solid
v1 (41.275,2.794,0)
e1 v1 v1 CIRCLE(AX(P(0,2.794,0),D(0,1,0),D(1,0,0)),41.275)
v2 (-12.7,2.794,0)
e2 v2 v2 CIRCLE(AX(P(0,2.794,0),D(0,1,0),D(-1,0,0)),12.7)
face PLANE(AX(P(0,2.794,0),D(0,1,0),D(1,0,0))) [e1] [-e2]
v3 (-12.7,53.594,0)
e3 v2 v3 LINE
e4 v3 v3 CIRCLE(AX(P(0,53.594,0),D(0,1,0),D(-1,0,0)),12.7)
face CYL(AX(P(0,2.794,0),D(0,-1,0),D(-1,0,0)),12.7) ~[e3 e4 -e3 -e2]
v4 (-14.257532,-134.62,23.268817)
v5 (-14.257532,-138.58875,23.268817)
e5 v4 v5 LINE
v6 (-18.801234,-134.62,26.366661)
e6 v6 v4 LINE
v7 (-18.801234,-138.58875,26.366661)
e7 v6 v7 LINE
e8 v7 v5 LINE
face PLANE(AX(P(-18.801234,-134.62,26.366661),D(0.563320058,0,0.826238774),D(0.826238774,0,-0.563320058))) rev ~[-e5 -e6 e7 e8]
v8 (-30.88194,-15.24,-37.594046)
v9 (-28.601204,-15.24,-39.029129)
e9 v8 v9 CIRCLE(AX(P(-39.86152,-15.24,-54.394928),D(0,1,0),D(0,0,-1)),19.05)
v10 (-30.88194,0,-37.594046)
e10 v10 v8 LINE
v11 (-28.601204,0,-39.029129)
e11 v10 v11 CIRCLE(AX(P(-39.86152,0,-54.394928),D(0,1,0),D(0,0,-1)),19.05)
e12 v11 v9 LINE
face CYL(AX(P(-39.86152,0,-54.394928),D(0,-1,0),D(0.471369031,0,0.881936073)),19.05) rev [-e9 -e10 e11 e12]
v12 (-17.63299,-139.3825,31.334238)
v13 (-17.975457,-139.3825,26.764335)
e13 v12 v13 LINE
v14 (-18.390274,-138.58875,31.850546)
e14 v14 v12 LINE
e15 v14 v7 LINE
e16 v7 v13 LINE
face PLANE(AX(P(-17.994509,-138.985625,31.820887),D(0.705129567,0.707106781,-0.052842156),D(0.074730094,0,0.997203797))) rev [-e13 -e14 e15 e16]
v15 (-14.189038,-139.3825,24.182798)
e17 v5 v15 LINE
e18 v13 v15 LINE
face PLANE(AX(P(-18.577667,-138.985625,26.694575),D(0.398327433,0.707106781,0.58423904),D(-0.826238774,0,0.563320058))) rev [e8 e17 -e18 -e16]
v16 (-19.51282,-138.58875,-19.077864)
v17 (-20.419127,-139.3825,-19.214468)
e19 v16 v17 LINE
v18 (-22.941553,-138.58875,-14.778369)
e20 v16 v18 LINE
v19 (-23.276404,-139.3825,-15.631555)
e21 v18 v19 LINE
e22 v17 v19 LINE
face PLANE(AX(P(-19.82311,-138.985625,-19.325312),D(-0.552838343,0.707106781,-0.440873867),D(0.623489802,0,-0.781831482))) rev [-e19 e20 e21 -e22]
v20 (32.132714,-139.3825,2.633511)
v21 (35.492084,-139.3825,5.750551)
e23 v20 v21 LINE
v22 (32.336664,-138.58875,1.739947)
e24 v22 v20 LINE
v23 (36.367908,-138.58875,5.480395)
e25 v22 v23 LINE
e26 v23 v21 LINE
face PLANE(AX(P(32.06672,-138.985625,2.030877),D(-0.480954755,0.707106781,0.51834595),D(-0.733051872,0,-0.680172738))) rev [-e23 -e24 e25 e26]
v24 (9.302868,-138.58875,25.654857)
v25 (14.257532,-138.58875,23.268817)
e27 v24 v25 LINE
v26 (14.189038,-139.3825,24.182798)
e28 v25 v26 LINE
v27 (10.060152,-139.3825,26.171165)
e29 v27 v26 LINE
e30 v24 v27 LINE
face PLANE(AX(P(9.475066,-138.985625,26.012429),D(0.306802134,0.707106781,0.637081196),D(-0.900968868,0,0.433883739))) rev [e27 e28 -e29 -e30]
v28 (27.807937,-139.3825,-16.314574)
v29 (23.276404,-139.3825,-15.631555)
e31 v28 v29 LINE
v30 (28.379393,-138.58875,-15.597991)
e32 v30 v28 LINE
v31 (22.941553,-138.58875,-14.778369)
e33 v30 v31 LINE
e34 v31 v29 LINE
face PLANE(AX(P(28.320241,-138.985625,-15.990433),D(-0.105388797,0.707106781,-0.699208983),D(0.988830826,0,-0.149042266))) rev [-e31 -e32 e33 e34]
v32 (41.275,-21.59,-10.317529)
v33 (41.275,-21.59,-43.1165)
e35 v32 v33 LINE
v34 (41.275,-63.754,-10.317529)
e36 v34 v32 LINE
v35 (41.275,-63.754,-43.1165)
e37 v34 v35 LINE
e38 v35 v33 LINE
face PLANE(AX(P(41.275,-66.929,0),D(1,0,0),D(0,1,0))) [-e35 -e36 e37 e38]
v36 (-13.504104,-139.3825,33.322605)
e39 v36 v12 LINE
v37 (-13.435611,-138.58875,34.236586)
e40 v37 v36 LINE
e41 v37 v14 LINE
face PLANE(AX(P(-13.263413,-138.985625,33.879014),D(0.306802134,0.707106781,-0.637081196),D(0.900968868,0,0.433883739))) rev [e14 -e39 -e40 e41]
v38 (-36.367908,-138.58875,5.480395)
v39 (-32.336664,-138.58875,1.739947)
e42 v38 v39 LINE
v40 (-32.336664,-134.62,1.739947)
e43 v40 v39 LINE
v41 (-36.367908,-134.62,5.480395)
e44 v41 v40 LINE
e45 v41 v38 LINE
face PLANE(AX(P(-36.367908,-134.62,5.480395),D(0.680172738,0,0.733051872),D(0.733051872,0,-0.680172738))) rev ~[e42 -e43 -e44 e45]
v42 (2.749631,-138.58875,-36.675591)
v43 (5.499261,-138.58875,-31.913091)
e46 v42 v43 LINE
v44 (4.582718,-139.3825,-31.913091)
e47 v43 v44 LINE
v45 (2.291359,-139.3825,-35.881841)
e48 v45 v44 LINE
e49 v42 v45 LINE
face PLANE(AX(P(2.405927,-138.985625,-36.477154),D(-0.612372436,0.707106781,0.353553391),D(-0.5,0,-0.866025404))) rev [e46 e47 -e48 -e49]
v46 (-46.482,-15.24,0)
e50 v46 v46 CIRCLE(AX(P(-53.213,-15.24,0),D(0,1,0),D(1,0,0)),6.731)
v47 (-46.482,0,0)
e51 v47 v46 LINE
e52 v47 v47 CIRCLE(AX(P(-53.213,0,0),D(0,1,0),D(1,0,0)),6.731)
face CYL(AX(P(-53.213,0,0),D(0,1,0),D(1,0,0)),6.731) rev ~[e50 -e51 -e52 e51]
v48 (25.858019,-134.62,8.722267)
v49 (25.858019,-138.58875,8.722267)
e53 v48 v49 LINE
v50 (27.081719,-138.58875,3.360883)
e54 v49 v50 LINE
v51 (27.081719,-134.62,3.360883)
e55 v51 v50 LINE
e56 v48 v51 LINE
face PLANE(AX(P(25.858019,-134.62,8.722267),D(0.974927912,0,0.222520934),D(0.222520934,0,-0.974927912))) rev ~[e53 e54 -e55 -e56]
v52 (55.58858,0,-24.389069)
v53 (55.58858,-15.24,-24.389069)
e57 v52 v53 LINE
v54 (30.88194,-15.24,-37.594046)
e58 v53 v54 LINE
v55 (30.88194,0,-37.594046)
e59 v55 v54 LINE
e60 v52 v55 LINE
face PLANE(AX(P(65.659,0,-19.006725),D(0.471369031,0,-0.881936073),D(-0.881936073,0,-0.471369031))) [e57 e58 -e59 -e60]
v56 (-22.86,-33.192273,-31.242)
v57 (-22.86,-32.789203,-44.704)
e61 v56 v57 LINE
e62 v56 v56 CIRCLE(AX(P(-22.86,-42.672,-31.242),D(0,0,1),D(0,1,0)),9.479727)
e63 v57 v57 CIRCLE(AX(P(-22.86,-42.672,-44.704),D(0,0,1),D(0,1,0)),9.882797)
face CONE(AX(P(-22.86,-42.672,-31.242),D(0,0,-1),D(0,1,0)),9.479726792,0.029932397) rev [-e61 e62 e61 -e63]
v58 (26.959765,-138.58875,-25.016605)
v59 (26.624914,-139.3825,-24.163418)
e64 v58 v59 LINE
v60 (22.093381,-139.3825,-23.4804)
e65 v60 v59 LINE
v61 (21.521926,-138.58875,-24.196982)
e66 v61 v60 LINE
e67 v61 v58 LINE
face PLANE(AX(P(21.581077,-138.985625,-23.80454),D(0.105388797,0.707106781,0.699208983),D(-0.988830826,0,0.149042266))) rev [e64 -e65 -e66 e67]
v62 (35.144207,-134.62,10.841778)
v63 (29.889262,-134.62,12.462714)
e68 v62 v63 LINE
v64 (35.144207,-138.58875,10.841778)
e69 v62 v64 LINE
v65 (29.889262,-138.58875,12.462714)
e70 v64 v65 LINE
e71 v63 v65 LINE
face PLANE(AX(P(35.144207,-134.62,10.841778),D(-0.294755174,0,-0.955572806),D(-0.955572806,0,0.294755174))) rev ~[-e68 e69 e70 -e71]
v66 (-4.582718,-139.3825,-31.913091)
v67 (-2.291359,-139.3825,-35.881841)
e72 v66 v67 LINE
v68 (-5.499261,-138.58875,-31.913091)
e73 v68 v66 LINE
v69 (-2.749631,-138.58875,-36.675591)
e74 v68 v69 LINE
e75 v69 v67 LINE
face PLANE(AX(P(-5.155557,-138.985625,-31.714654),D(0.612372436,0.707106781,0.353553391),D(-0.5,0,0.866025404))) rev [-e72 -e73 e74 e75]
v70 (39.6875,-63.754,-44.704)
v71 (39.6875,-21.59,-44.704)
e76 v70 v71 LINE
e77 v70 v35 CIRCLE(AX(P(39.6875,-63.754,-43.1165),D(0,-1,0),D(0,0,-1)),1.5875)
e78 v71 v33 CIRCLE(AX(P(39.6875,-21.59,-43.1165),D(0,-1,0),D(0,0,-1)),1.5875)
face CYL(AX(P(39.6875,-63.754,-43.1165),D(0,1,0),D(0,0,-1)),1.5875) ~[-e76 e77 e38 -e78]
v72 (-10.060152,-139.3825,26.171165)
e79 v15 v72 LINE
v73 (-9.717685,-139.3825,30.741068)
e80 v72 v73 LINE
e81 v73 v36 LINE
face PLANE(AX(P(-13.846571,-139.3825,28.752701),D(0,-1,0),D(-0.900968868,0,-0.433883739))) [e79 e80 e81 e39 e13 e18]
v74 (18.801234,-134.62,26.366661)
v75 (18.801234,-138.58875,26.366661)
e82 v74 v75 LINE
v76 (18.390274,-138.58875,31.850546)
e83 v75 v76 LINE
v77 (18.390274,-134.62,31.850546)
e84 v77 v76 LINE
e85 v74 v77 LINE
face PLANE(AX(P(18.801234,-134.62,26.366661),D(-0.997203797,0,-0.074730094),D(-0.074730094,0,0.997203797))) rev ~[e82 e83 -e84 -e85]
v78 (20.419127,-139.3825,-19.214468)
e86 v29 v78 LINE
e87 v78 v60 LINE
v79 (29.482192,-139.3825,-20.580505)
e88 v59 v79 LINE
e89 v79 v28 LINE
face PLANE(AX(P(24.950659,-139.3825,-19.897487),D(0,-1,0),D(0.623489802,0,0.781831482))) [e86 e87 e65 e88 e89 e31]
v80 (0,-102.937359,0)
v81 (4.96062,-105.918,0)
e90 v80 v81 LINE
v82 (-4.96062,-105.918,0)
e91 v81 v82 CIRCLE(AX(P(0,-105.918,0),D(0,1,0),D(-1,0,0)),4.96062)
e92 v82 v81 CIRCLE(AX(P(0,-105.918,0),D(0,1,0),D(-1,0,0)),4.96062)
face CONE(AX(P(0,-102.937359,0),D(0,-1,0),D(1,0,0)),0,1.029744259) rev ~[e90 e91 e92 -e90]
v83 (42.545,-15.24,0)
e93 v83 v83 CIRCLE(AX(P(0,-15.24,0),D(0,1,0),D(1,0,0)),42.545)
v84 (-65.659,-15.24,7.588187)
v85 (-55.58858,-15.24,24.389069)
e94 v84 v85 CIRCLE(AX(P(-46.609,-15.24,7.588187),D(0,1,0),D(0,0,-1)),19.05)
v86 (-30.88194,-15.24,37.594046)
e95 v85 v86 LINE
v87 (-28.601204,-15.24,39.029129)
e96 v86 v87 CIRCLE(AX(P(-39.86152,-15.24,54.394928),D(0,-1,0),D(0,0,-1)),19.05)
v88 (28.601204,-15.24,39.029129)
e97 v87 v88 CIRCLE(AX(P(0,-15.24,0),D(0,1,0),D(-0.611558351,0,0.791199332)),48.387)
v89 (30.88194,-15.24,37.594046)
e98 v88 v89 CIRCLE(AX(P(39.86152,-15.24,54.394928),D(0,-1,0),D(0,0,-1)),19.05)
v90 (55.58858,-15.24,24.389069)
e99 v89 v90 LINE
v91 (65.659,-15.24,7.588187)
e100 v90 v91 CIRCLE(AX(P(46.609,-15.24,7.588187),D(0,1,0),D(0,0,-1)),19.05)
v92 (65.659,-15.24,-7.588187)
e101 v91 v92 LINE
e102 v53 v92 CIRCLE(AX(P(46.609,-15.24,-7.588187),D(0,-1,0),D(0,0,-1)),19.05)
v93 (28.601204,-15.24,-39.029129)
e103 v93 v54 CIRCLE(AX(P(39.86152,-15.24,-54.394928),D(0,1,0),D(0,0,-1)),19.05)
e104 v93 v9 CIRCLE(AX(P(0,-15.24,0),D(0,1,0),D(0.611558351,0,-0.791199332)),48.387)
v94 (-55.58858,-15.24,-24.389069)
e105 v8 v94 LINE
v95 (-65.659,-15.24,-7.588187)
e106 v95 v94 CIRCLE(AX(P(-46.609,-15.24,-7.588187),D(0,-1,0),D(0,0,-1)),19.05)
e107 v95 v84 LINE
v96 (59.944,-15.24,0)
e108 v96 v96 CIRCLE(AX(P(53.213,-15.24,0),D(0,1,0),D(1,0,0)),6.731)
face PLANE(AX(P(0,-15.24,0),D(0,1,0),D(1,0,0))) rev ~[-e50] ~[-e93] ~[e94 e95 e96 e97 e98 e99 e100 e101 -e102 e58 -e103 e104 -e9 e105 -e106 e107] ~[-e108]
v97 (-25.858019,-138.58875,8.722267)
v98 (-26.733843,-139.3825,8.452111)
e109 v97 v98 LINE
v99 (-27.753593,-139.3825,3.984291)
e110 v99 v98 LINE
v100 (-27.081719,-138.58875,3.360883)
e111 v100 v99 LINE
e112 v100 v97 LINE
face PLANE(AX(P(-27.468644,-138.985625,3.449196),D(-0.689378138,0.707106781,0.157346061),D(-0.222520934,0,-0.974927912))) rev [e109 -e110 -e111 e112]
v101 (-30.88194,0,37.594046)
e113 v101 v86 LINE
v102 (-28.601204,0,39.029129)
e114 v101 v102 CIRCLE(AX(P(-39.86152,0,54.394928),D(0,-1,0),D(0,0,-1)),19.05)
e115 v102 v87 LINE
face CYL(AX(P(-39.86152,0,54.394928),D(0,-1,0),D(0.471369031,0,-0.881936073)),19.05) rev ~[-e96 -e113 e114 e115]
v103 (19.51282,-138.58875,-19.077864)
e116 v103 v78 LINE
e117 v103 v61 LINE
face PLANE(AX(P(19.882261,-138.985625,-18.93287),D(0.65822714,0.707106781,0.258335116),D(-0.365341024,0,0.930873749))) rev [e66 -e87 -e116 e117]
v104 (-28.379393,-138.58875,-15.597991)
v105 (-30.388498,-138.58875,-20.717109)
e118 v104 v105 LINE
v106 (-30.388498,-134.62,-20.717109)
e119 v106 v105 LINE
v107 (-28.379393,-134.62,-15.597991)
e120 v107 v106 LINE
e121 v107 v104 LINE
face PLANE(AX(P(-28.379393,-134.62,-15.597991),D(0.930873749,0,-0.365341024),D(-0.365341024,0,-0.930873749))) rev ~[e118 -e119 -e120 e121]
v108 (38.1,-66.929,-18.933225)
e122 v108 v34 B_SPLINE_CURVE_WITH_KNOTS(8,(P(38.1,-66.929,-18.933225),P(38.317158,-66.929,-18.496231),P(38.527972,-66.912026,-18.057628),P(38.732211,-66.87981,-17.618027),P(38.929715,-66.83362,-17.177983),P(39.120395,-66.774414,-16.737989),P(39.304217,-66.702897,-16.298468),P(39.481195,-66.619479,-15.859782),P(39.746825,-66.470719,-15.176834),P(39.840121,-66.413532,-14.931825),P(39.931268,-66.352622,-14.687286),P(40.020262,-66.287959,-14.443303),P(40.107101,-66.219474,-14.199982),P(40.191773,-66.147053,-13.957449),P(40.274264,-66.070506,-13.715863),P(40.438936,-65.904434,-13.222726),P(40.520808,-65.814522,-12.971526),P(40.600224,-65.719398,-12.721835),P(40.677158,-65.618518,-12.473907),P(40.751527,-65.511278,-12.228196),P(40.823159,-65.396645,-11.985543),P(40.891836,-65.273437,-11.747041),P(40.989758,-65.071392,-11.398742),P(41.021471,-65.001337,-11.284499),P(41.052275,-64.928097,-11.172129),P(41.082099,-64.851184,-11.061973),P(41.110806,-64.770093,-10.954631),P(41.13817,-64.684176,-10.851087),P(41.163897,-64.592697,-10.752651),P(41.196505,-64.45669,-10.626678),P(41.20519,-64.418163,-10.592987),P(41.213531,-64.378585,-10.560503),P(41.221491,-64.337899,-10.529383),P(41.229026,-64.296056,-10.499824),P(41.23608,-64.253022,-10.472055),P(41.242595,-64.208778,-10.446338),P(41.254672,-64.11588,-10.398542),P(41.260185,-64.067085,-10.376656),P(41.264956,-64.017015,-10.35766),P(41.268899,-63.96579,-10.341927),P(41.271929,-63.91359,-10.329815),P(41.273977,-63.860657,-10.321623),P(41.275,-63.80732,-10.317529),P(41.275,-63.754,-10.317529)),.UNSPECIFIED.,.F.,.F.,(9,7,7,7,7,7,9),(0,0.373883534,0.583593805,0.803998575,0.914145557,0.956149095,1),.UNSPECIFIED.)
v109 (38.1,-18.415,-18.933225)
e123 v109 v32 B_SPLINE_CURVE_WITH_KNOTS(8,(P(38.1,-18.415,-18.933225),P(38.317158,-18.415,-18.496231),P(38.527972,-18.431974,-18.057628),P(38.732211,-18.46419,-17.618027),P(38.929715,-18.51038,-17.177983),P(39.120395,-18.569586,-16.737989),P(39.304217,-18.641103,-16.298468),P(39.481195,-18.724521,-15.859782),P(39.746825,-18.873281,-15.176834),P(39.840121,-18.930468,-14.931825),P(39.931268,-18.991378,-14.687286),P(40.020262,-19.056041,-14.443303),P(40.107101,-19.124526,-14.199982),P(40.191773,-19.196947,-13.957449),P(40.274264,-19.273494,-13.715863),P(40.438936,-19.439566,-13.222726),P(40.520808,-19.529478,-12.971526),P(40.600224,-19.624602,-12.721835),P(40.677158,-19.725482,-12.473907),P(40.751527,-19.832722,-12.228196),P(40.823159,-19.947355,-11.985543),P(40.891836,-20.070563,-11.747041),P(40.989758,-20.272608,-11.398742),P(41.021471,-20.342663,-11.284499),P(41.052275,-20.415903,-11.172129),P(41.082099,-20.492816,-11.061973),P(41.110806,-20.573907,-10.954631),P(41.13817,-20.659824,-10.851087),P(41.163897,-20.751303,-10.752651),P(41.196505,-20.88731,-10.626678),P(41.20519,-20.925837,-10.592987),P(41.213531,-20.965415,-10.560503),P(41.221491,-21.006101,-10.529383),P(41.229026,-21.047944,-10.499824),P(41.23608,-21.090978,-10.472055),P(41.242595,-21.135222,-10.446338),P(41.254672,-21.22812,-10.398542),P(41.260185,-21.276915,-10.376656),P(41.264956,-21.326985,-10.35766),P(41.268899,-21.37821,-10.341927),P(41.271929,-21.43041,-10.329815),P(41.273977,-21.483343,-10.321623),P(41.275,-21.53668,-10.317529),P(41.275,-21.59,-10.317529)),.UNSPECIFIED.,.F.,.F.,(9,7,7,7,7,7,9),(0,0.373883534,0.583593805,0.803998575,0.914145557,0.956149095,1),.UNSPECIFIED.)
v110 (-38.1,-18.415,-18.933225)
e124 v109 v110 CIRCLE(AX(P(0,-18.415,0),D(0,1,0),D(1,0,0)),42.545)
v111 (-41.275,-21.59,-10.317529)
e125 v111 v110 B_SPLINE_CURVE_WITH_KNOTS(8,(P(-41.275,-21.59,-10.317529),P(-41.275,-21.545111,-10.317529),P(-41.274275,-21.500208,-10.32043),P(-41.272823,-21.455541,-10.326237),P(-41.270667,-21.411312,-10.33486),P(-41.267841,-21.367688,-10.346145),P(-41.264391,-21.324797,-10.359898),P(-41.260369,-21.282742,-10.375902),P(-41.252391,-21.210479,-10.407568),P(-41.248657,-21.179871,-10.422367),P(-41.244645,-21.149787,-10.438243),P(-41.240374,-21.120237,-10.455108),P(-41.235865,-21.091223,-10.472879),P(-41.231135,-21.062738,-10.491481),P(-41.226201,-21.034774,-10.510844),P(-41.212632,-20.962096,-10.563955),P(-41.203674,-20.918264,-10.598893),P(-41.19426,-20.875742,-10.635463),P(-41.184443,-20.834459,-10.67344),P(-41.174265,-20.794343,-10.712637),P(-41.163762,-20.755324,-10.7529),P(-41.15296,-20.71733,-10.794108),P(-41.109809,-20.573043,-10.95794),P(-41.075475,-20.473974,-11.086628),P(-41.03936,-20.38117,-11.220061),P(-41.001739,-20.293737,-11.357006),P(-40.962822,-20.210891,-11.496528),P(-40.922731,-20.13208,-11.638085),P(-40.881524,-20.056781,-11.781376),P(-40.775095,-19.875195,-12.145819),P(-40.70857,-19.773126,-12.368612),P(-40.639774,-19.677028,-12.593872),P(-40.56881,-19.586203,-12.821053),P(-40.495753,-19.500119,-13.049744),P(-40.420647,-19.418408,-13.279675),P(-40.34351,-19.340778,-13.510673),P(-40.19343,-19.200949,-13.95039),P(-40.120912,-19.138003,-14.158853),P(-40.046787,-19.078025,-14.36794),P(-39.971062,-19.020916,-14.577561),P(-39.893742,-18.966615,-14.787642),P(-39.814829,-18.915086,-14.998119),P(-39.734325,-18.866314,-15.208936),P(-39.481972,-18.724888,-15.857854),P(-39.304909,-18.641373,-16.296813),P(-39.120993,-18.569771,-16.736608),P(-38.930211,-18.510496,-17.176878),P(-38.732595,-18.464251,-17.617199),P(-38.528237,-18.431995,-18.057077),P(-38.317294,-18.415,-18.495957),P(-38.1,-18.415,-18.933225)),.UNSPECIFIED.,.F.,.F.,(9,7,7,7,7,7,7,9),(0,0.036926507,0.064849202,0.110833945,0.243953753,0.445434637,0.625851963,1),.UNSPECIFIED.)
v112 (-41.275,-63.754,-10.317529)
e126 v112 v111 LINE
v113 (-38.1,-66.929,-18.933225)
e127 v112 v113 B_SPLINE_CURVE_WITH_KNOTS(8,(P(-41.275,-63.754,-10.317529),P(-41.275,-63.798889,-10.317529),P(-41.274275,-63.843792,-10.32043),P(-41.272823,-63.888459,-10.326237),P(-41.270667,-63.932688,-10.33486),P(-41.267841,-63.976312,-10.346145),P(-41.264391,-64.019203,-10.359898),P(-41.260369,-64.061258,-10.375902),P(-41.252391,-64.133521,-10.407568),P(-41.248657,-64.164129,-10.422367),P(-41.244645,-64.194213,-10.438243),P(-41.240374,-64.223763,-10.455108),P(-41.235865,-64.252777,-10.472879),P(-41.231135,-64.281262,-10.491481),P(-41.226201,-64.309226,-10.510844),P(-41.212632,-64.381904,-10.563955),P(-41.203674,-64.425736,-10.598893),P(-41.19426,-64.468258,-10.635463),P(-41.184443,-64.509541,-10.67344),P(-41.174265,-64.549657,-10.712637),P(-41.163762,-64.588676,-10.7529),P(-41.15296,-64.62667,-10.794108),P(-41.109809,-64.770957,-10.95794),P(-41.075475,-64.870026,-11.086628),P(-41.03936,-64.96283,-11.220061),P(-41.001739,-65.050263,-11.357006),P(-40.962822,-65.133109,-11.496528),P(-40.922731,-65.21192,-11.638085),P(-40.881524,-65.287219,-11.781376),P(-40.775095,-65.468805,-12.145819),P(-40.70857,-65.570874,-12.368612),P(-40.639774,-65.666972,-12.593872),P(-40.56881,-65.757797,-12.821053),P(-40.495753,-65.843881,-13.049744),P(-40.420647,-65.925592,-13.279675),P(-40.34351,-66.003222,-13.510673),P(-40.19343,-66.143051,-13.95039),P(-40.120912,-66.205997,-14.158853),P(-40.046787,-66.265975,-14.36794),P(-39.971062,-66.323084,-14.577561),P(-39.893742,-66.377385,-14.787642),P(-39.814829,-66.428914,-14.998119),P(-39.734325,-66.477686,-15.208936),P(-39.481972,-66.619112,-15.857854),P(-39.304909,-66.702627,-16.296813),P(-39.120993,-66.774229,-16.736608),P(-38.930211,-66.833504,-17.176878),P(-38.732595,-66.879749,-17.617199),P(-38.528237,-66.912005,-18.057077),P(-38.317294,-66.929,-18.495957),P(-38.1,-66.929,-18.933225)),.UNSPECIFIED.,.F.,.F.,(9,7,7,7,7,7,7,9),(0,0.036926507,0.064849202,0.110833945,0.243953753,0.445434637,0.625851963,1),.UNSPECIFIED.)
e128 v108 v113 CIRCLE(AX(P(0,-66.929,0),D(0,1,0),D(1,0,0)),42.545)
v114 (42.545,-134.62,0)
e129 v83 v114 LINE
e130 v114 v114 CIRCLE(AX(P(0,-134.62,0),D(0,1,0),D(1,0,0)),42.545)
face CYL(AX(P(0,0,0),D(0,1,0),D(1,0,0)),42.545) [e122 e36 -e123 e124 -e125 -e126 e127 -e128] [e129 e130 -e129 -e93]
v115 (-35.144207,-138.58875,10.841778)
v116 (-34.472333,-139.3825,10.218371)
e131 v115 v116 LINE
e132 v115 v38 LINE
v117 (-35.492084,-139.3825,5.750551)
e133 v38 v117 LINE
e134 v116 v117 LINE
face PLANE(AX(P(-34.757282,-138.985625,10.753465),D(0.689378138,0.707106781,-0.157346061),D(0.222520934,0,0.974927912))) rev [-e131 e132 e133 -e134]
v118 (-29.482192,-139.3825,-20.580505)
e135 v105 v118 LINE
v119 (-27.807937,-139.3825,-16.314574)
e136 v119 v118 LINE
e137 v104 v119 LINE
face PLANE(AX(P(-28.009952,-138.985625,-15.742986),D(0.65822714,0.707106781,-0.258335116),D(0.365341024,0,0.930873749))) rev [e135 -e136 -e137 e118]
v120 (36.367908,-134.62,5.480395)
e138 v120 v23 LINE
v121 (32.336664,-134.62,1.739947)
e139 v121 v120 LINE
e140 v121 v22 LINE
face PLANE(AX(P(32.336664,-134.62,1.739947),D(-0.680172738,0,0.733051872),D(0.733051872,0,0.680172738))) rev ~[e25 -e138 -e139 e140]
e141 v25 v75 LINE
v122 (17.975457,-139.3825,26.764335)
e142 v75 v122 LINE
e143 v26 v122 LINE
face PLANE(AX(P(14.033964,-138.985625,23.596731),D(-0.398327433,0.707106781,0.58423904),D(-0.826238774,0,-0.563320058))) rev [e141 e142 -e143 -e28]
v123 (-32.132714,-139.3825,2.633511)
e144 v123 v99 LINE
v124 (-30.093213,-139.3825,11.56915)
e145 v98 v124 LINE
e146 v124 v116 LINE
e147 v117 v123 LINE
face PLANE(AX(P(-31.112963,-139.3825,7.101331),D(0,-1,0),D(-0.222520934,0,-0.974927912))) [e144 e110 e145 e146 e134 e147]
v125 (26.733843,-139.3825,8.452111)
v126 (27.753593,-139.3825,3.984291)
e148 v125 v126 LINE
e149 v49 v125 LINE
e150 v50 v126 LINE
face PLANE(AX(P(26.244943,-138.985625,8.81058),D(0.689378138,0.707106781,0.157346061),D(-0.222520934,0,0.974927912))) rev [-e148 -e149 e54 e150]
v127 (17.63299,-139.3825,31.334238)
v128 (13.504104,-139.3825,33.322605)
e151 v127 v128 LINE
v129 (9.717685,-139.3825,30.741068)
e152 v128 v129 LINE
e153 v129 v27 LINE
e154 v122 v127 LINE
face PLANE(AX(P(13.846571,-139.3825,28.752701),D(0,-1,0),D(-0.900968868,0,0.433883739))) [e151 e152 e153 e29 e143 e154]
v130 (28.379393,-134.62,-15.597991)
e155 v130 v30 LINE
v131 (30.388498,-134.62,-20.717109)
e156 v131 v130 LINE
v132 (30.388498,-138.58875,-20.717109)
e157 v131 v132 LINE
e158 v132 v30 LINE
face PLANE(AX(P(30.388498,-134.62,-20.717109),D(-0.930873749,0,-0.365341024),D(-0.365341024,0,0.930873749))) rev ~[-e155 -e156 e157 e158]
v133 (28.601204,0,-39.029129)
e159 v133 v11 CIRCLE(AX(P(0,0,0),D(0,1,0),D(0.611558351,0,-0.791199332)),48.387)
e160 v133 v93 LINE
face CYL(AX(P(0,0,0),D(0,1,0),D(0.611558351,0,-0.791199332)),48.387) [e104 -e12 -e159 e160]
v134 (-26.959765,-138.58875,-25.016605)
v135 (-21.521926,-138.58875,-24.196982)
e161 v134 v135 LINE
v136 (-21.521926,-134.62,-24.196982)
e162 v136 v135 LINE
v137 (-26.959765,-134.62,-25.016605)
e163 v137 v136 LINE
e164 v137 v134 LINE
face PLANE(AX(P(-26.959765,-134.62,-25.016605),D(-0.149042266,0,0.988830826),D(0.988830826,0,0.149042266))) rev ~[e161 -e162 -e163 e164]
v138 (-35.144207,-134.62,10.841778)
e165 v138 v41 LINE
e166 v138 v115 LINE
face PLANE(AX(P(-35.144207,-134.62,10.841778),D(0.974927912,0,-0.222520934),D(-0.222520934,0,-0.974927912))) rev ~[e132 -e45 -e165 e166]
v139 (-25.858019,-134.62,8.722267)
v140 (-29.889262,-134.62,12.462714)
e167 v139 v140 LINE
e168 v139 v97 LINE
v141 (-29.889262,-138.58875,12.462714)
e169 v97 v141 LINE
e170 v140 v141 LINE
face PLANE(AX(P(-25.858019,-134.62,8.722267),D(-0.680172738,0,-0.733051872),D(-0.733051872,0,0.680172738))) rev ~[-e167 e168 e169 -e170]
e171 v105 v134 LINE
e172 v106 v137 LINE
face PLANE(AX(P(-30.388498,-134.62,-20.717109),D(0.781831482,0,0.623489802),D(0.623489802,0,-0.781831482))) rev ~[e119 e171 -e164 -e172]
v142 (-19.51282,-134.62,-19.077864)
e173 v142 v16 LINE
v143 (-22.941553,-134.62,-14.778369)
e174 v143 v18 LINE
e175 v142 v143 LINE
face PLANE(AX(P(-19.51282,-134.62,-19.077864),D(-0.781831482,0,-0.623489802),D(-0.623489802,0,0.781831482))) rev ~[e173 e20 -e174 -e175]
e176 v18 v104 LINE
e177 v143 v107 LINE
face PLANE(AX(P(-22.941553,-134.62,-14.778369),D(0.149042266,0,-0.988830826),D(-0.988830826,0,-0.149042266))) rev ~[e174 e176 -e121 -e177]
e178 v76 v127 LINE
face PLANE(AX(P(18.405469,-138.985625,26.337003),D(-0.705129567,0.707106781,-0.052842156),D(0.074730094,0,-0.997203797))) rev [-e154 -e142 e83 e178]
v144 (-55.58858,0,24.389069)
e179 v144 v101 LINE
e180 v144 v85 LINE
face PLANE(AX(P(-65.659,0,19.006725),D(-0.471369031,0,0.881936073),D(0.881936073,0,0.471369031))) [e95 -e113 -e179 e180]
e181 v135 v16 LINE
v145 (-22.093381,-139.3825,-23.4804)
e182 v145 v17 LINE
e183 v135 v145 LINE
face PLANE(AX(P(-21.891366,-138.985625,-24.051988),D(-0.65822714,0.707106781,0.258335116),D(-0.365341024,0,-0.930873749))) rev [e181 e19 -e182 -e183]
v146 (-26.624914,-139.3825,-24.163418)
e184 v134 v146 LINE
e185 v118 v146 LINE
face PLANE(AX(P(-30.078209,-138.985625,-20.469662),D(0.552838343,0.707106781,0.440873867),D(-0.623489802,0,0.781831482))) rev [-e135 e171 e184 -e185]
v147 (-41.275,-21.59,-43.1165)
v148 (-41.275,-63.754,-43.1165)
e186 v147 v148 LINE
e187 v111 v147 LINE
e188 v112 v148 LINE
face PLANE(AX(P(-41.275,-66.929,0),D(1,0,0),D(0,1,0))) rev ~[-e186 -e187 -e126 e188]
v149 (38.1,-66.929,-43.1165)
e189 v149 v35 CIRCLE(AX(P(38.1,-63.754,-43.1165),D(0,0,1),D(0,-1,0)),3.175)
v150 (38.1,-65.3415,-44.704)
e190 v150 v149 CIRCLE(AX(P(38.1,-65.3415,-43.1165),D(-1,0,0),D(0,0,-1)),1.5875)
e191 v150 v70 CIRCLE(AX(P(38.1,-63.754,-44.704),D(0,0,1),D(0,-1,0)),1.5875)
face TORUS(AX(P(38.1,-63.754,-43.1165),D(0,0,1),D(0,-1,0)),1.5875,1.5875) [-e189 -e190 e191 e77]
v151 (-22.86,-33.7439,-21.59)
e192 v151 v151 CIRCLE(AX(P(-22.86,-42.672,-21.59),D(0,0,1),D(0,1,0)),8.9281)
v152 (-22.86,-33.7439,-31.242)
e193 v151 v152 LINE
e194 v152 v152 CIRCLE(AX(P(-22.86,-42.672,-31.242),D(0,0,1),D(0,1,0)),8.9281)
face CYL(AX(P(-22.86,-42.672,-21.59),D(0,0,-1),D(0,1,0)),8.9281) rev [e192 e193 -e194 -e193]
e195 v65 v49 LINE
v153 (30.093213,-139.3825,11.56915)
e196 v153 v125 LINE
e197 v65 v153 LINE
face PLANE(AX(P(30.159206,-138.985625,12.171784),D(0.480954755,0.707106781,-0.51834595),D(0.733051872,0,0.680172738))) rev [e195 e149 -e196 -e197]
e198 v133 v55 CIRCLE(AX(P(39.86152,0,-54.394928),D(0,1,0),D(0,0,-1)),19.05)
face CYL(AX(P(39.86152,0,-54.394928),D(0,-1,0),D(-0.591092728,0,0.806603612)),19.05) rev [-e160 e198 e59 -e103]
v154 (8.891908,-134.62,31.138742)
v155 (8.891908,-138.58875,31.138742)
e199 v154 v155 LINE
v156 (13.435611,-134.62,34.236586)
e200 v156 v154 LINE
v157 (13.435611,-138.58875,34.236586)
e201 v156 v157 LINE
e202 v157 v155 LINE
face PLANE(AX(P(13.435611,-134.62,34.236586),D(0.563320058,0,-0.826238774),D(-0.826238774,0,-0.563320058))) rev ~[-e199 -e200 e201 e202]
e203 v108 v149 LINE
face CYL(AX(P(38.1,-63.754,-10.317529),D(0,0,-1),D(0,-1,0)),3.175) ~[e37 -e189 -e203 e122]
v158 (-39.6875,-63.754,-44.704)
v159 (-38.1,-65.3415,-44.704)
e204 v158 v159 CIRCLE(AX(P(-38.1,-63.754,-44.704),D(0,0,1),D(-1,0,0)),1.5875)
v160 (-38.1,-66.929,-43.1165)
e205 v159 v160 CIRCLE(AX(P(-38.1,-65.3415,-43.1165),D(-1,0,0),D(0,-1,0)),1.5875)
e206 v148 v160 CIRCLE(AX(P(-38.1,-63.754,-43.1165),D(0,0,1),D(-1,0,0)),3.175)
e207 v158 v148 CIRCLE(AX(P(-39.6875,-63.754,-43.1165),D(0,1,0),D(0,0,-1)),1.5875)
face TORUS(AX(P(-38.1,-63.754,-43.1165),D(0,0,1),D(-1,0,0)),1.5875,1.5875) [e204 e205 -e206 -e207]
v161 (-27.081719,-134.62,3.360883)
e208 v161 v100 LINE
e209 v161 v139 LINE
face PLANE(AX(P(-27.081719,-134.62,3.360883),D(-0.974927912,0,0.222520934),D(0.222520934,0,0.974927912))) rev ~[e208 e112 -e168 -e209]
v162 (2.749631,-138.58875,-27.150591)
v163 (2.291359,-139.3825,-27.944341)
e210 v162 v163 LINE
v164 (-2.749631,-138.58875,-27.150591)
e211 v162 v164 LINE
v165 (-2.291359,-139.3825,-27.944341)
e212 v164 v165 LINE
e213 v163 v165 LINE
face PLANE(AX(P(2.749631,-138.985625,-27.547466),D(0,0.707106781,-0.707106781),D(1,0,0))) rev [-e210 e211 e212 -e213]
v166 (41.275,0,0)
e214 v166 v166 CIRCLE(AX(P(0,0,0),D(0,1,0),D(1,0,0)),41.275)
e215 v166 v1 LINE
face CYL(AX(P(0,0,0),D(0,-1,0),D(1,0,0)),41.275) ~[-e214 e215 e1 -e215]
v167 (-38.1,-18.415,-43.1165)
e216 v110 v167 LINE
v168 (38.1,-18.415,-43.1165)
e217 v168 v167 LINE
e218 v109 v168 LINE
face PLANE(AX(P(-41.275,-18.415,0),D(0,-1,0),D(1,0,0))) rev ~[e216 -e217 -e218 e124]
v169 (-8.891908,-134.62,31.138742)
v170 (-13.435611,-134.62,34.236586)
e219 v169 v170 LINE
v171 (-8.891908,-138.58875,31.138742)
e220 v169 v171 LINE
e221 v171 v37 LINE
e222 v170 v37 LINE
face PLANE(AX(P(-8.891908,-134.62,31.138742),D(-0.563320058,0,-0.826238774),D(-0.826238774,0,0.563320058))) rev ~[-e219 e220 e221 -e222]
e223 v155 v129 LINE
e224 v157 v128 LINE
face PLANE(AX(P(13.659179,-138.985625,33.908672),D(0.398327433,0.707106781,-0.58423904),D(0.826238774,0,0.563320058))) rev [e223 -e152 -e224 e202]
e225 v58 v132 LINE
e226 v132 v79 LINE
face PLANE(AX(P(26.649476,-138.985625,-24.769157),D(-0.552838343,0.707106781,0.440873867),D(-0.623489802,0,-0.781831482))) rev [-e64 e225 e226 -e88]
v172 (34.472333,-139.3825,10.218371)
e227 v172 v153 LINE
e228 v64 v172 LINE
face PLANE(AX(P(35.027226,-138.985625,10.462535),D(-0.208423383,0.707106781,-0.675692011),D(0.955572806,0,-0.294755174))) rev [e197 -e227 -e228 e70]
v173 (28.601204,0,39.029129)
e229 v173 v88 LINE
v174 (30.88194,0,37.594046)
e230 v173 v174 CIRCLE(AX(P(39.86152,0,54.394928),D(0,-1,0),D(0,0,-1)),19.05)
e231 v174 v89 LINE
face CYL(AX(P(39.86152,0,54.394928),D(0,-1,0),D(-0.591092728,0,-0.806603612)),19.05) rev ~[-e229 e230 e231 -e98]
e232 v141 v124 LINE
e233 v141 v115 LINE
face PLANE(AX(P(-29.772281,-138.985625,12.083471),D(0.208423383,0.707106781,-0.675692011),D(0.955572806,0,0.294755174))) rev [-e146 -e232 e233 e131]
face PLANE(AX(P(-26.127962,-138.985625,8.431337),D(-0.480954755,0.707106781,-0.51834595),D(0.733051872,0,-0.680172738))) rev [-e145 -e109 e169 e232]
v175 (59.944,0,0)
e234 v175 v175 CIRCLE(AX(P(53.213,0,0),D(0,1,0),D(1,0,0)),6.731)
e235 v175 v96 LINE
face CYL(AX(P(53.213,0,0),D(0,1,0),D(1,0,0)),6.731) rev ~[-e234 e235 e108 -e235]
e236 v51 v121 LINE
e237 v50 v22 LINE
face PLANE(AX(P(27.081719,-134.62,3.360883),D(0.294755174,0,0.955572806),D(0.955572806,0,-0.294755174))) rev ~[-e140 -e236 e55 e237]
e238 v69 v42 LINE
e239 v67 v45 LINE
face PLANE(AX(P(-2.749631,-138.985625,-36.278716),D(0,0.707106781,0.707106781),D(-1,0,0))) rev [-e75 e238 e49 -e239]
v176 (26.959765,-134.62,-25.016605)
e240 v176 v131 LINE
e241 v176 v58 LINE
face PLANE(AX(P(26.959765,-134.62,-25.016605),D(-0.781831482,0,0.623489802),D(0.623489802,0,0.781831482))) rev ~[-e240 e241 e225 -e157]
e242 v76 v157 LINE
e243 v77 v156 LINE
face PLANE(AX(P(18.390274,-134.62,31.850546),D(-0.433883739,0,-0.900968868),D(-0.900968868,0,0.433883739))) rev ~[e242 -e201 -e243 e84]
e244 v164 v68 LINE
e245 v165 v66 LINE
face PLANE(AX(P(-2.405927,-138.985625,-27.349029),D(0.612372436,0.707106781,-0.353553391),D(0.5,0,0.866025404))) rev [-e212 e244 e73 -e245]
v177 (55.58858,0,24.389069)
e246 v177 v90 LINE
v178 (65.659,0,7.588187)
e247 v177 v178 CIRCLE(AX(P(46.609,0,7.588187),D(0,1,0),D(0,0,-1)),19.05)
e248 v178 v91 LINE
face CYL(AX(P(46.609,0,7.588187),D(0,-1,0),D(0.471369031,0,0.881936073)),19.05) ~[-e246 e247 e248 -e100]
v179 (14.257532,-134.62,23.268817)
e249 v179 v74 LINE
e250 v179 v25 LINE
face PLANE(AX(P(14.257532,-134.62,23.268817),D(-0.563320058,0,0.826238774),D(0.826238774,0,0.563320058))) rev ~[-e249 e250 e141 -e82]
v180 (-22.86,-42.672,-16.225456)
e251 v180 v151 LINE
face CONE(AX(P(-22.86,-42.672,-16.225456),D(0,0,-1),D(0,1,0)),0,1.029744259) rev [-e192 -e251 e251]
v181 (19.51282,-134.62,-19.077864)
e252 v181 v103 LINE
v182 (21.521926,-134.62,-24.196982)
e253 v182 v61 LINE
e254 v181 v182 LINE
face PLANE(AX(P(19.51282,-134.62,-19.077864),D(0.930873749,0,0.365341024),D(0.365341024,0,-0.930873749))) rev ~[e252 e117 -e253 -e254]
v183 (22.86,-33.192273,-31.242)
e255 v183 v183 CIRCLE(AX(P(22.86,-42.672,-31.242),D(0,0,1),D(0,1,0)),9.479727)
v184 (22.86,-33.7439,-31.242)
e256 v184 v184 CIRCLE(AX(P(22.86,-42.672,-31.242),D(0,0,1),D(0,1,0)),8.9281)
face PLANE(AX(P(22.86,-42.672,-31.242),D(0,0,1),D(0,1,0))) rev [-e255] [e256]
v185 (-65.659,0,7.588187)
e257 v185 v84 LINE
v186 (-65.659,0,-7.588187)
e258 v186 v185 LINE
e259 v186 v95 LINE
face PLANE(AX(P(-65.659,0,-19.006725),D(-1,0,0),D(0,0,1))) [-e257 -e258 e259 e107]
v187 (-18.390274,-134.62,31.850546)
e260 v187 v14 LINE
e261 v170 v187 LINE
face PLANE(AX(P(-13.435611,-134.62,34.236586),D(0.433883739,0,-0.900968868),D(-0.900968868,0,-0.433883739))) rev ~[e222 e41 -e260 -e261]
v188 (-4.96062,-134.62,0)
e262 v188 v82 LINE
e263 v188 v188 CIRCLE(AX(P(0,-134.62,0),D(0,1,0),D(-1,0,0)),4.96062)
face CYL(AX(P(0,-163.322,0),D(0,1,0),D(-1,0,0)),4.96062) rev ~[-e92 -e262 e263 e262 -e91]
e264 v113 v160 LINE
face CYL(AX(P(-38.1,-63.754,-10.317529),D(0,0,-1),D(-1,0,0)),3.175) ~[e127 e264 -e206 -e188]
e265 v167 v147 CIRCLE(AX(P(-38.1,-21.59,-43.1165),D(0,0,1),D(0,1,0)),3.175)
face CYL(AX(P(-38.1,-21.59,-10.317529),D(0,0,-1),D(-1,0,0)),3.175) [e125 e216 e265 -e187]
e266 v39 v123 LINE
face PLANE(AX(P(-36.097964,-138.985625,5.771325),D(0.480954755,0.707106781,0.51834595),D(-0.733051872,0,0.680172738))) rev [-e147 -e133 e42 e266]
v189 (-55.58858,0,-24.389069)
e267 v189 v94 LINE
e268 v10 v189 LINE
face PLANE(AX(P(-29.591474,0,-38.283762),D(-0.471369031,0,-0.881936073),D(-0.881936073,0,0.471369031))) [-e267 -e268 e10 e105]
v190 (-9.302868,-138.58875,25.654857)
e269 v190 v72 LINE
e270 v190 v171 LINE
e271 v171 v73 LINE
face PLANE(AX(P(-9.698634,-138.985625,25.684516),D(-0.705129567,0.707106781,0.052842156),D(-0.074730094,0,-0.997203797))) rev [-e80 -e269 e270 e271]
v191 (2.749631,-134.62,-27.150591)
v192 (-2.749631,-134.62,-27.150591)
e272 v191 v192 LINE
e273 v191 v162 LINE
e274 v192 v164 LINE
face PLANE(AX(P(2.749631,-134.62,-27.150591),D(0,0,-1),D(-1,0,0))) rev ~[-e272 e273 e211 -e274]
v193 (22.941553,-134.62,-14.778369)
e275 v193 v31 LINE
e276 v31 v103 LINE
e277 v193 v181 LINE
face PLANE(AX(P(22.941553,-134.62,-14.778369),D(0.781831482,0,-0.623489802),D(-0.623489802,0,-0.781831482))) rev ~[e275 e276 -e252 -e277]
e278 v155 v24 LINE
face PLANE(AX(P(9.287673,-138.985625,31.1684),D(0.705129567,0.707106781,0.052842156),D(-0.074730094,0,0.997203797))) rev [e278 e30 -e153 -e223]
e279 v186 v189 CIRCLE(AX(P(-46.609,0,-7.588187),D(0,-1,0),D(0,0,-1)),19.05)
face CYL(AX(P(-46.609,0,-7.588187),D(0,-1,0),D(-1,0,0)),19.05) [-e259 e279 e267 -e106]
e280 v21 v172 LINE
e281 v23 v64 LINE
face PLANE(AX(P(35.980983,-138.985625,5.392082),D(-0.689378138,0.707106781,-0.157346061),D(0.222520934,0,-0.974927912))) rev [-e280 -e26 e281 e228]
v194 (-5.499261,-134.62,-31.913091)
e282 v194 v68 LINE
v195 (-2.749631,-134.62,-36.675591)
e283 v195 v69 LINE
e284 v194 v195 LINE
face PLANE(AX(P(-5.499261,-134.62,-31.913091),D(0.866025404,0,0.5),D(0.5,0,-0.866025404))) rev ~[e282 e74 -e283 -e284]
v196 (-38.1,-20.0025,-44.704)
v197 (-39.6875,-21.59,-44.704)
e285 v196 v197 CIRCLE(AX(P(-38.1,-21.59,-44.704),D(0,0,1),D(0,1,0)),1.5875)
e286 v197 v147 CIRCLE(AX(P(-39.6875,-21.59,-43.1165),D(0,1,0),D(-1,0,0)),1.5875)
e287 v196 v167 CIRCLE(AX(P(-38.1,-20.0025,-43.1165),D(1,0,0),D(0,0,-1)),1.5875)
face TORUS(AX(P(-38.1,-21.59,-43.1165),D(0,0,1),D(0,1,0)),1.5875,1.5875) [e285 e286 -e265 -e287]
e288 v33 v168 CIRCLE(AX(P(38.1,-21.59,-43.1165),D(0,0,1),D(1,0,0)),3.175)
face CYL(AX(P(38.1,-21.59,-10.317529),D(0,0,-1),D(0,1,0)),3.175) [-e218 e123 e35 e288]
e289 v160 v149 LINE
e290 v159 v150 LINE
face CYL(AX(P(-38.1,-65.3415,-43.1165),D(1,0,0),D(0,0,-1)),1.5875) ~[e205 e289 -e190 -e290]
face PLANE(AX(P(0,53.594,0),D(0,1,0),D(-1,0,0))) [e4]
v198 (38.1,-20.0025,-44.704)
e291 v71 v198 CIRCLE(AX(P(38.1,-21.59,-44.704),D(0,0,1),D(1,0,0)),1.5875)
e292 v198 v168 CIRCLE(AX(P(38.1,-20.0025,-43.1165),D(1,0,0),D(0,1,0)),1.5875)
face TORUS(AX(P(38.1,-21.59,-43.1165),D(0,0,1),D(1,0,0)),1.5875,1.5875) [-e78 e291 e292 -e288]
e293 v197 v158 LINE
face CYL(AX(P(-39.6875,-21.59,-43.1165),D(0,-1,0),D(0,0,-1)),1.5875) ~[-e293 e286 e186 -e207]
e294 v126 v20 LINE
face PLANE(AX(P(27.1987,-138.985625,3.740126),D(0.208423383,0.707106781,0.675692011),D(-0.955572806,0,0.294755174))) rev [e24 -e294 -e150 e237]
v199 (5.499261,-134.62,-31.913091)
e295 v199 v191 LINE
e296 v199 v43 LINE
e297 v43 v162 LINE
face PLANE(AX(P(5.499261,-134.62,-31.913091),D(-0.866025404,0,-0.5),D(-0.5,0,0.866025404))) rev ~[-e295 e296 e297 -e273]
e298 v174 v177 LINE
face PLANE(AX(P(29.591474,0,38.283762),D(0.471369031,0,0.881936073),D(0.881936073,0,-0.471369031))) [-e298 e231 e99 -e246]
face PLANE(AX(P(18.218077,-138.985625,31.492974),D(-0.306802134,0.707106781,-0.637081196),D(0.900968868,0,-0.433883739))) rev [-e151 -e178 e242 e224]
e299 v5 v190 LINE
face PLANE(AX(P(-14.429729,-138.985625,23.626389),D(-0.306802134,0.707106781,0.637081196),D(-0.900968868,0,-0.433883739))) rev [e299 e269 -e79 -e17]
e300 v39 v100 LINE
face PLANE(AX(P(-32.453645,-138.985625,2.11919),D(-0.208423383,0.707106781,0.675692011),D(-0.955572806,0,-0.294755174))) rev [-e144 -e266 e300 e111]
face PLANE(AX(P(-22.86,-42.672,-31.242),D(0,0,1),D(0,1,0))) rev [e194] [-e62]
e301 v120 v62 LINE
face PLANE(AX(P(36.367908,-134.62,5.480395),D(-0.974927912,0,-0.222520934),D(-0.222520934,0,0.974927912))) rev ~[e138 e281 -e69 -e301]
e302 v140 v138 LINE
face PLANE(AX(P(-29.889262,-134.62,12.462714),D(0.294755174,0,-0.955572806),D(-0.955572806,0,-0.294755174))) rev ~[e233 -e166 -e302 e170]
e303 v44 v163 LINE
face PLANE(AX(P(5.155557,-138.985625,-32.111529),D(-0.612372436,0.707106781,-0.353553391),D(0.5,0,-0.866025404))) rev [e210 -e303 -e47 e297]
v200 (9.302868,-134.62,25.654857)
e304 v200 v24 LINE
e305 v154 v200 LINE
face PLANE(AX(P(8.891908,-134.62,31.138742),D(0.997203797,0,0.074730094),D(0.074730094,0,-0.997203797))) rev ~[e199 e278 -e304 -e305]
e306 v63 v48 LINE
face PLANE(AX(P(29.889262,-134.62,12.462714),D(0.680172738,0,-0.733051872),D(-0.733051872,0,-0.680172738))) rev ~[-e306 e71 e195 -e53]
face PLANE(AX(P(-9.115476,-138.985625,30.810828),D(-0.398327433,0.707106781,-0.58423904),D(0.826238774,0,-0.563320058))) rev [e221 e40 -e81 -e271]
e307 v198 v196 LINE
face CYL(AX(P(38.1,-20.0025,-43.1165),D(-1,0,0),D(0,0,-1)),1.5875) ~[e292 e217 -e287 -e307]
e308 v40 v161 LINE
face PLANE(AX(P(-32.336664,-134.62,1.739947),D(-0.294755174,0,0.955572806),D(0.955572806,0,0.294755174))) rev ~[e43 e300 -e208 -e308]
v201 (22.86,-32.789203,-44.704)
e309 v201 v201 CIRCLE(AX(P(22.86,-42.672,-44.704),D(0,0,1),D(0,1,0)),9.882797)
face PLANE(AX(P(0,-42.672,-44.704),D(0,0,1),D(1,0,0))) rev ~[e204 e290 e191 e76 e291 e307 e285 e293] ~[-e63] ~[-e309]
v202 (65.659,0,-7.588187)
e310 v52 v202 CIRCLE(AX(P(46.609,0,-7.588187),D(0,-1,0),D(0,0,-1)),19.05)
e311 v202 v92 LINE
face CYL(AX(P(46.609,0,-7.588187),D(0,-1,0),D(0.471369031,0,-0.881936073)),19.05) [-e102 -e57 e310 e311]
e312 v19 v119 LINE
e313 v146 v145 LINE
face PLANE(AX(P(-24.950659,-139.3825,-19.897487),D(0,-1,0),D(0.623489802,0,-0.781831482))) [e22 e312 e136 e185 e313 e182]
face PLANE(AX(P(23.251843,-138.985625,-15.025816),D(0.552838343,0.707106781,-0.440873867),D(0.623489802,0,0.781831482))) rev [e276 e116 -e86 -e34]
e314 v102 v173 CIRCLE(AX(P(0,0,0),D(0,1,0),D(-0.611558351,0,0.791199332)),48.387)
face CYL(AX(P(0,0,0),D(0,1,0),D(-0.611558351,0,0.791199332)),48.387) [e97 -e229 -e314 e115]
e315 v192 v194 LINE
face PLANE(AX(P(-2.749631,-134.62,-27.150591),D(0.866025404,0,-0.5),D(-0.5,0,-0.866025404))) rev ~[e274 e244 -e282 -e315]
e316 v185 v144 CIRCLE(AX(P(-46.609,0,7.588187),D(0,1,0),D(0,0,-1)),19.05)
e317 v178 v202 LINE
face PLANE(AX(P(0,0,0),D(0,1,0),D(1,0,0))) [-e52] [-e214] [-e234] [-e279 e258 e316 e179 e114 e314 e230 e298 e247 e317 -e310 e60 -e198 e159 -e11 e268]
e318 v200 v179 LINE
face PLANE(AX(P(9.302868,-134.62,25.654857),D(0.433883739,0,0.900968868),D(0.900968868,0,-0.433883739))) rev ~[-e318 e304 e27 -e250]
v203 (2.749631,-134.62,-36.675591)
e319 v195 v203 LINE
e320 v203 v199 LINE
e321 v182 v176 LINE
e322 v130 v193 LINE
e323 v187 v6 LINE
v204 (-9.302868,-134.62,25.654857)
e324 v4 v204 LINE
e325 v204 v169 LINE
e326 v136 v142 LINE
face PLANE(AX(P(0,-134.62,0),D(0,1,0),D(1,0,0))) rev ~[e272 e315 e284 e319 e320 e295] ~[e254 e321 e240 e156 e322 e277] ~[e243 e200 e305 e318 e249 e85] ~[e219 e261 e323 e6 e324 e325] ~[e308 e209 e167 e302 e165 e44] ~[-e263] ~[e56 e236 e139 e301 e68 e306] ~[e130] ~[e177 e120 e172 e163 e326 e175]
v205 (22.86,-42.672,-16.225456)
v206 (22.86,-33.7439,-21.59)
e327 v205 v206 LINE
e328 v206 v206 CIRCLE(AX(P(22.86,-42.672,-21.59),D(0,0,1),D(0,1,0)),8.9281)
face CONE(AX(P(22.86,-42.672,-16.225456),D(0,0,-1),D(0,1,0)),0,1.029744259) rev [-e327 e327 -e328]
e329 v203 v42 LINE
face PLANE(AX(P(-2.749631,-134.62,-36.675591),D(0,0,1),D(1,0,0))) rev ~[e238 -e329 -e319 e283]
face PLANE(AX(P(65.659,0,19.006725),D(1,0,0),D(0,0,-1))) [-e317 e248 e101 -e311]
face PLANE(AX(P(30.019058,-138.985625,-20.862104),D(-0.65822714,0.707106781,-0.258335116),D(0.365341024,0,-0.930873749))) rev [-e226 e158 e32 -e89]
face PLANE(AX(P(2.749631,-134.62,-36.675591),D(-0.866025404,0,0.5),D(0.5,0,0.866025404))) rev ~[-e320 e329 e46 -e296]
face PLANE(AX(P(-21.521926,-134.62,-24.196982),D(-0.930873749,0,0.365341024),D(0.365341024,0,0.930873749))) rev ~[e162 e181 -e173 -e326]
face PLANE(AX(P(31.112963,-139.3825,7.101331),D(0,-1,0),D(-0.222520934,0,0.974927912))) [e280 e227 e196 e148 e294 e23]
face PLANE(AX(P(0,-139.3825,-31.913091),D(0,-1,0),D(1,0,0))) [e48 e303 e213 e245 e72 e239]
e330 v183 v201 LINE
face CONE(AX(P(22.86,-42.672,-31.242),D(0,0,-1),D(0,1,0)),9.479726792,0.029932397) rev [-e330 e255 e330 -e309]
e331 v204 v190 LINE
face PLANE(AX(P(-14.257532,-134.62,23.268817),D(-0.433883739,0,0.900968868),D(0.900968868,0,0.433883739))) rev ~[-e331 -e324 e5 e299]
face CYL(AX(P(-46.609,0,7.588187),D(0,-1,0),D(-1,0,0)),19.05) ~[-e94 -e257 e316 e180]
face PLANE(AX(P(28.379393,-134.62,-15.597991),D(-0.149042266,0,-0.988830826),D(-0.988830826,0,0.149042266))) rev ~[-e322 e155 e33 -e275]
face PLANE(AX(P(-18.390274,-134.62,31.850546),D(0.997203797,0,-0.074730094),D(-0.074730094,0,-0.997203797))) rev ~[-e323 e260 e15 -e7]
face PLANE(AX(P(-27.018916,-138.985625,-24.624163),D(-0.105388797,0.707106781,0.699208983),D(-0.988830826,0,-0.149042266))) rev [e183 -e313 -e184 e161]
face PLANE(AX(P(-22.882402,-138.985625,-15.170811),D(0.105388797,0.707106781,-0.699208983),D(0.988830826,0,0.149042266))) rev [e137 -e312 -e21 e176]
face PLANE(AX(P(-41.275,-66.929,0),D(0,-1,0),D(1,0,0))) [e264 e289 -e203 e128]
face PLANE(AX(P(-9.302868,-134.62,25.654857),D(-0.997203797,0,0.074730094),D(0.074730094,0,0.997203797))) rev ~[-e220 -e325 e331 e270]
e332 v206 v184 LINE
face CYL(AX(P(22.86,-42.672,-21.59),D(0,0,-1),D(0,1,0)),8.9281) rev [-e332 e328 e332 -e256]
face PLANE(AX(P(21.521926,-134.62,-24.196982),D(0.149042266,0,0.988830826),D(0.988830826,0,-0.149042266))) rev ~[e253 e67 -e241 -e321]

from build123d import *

# Parameters (mm, degrees)
SKETCH1_R                    = 41.275
BOSS_EXTRUDE1_DEPTH          = 2.794
SKETCH2_R                    = 42.545
BOSS_EXTRUDE2_DEPTH          = 134.62
BOSS_EXTRUDE3_DEPTH          = 4.7625
CHAMFER1_SIZE                = 0.79375
CIRPATTERN1_COUNT            = 7
CHAMFER1_OF_CIRPATTERN1_SIZE = 0.79375
SKETCH4_R                    = 3.175
CUT_EXTRUDE1_DEPTH           = 9.525
SKETCH5_R                    = 6.731
BOSS_EXTRUDE4_DEPTH          = 15.24
FILLET1_R                    = 19.05
SKETCH6_W                    = 82.55
SKETCH6_H                    = 48.514
SKETCH6_R                    = 6.35
BOSS_EXTRUDE5_DEPTH          = 44.704
FILLET2_R                    = 3.175
FILLET3_R                    = 1.5875
SKETCH7_R                    = 12.7
BOSS_EXTRUDE6_DEPTH          = 50.8
F_7_16_20_TAPPED_HOLE1_D     = 9.92124
F_7_16_20_TAPPED_HOLE1_DEPTH = 28.702
F_7_16_20_TAPPED_HOLE1_TIP   = 2.980641204


with BuildPart() as part:
    # Sketch1 → Boss-Extrude1 (new body)
    with BuildSketch(Plane(origin=(0, 0, 0), x_dir=(1, 0, 0), z_dir=(0, 1, 0))):
        Circle(SKETCH1_R)
    extrude(amount=BOSS_EXTRUDE1_DEPTH)

    # Sketch2 → Boss-Extrude2 (add)
    with BuildSketch(Plane(origin=(0, 0, 0), x_dir=(1, 0, 0), z_dir=(0, 1, 0))):
        Circle(SKETCH2_R)
    extrude(amount=-BOSS_EXTRUDE2_DEPTH)

    # Sketch3 → Boss-Extrude3 (add)
    with BuildSketch(Plane.XZ.offset(134.62)):
        Polygon((2.749630657, -36.675591008), (5.499261314, -31.913091008), (2.749630657, -27.150591008), (-2.749630657, -27.150591008), (-5.499261314, -31.913091008), (-2.749630657, -36.675591008), align=None)
    boss_extrude3 = extrude(amount=BOSS_EXTRUDE3_DEPTH)

    # Chamfer1
    chamfer1_edges = [part.edges().sort_by_distance(p)[0] for p in [
        (-4.124445986, -139.3825, -34.294341008),
        (-4.124445986, -139.3825, -29.531841008),
        (0, -139.3825, -27.150591008),
        (4.124445986, -139.3825, -29.531841008),
        (4.124445986, -139.3825, -34.294341008),
        (0, -139.3825, -36.675591008),
    ]]
    chamfer(chamfer1_edges, length=CHAMFER1_SIZE)

    # CirPattern1: Boss-Extrude3 ×7 about axis
    cirpattern1_axis = Axis((0, -146.491325, 0), (0, 1, 0))
    for i in range(1, CIRPATTERN1_COUNT):
        add(boss_extrude3.rotate(cirpattern1_axis, i * 360 / CIRPATTERN1_COUNT))

    # Chamfer1 of CirPattern1
    chamfer1_of_cirpattern1_edges = [part.edges().sort_by_distance(p)[0] for p in [
        (-29.383945481, -139.3825, -18.15755016),
        (-25.660473045, -139.3825, -15.188179979),
        (-21.227186817, -139.3825, -16.928116608),
        (-20.517373025, -139.3825, -21.637423418),
        (-24.24084546, -139.3825, -24.606793599),
        (-28.674131688, -139.3825, -22.86685697),
        (-32.516734705, -139.3825, 11.652246304),
        (-27.873640524, -139.3825, 10.592490356),
        (-26.469869006, -139.3825, 6.041574868),
        (-29.709191669, -139.3825, 2.550415329),
        (-34.352285851, -139.3825, 3.610171277),
        (-35.756057369, -139.3825, 8.161086764),
        (-11.163759477, -139.3825, 32.687663639),
        (-9.097388169, -139.3825, 28.396799406),
        (-11.780199946, -139.3825, 24.461837243),
        (-16.52938303, -139.3825, 24.817739314),
        (-18.595754337, -139.3825, 29.108603547),
        (-15.912942561, -139.3825, 33.04356571),
        (18.595754337, -139.3825, 29.108603547),
        (16.52938303, -139.3825, 24.817739314),
        (11.780199946, -139.3825, 24.461837243),
        (9.097388169, -139.3825, 28.396799406),
        (11.163759477, -139.3825, 32.687663639),
        (15.912942561, -139.3825, 33.04356571),
        (34.352285851, -139.3825, 3.610171277),
        (29.709191669, -139.3825, 2.550415329),
        (26.469869006, -139.3825, 6.041574868),
        (27.873640524, -139.3825, 10.592490356),
        (32.516734705, -139.3825, 11.652246304),
        (35.756057369, -139.3825, 8.161086764),
        (24.24084546, -139.3825, -24.606793599),
        (20.517373025, -139.3825, -21.637423418),
        (21.227186817, -139.3825, -16.928116608),
        (25.660473045, -139.3825, -15.188179979),
        (29.383945481, -139.3825, -18.15755016),
        (28.674131688, -139.3825, -22.86685697),
    ]]
    chamfer(chamfer1_of_cirpattern1_edges, length=CHAMFER1_OF_CIRPATTERN1_SIZE)

    # Sketch4 → Cut-Extrude1 (cut)
    with BuildSketch(Plane.XZ.offset(134.62)):
        Circle(SKETCH4_R)
    extrude(amount=-CUT_EXTRUDE1_DEPTH, mode=Mode.SUBTRACT)

    # Sketch5 → Boss-Extrude4 (add)
    with BuildSketch(Plane(origin=(0, 0, 0), x_dir=(1, 0, 0), z_dir=(0, 1, 0))):
        with BuildLine():
            Line((-65.659, 19.006724542), (-65.659, -19.006724542))
            Line((-65.659, -19.006724542), (-29.591473914, -38.283762101))
            ThreePointArc((-29.591473914, -38.283762101), (0, -48.387), (29.591473914, -38.283762101))
            Line((29.591473914, -38.283762101), (65.659, -19.006724542))
            Line((65.659, -19.006724542), (65.659, 19.006724542))
            Line((65.659, 19.006724542), (29.591473914, 38.283762101))
            ThreePointArc((29.591473914, 38.283762101), (0, 48.387), (-29.591473914, 38.283762101))
            Line((-29.591473914, 38.283762101), (-65.659, 19.006724542))
        make_face()
        with Locations((-53.213, 0)):
            Circle(SKETCH5_R, mode=Mode.SUBTRACT)
        with Locations((53.213, 0)):
            Circle(SKETCH5_R, mode=Mode.SUBTRACT)
    extrude(amount=-BOSS_EXTRUDE4_DEPTH)

    # Fillet1
    fillet1_edges = [part.edges().sort_by_distance(p)[0] for p in [
        (-29.591473914, -7.62, 38.283762101),
        (29.591473914, -7.62, 38.283762101),
        (65.659, -7.62, 19.006724542),
        (65.659, -7.62, -19.006724542),
        (29.591473914, -7.62, -38.283762101),
        (-29.591473914, -7.62, -38.283762101),
        (-65.659, -7.62, 19.006724542),
        (-65.659, -7.62, -19.006724542),
    ]]
    fillet(fillet1_edges, radius=FILLET1_R)

    # Sketch6 → Boss-Extrude5 (add)
    with BuildSketch(Plane.XY):
        with Locations((0, -42.672)):
            Rectangle(SKETCH6_W, SKETCH6_H)
        with Locations((22.86, -42.672)):
            Circle(SKETCH6_R, mode=Mode.SUBTRACT)
        with Locations((-22.86, -42.672)):
            Circle(SKETCH6_R, mode=Mode.SUBTRACT)
    extrude(amount=-BOSS_EXTRUDE5_DEPTH)

    # Fillet2
    fillet2_edges = [part.edges().sort_by_distance(p)[0] for p in [
        (41.275, -18.415, -27.510764387),
        (-41.275, -18.415, -27.510764387),
        (-41.275, -66.929, -27.510764387),
        (41.275, -66.929, -27.510764387),
    ]]
    fillet(fillet2_edges, radius=FILLET2_R)

    # Fillet3
    fillet3_edges = [part.edges().sort_by_distance(p)[0] for p in [
        (40.34506403, -65.99906403, -44.704),
        (0, -66.929, -44.704),
        (-40.34506403, -65.99906403, -44.704),
        (-41.275, -42.672, -44.704),
        (-40.34506403, -19.34493597, -44.704),
        (0, -18.415, -44.704),
        (40.34506403, -19.34493597, -44.704),
        (41.275, -42.672, -44.704),
    ]]
    fillet(fillet3_edges, radius=FILLET3_R)

    # Sketch7 → Boss-Extrude6 (add)
    with BuildSketch(Plane(origin=(0, 2.794, 0), x_dir=(-1, 0, 0), z_dir=(0, 1, 0))):
        Circle(SKETCH7_R)
    extrude(amount=BOSS_EXTRUDE6_DEPTH)

    # Sketch8 → 1/2 NPT Tapped Hole1 (revolve, cut)
    with BuildSketch(Plane(origin=(22.86, -42.672, -44.704), x_dir=(0, 1, 0), z_dir=(1, 0, 0))):
        Polygon((0, 0), (0, 28.478543693), (8.9281, 23.114), (8.9281, 13.462), (9.479726792, 13.462), (9.8827971, 0), align=None)
    revolve(axis=Axis((22.86, -42.672, -51.054), (0, 0, 1)), mode=Mode.SUBTRACT)

    # Sketch10 → 1/2 NPT Tapped Hole2 (revolve, cut)
    with BuildSketch(Plane(origin=(-22.86, -42.672, -44.704), x_dir=(0, 1, 0), z_dir=(1, 0, 0))):
        Polygon((0, 0), (0, 28.478543693), (8.9281, 23.114), (8.9281, 13.462), (9.479726792, 13.462), (9.8827971, 0), align=None)
    revolve(axis=Axis((-22.86, -42.672, -51.054), (0, 0, 1)), mode=Mode.SUBTRACT)

    # 7/16-20 Tapped Hole1
    with Locations(Plane.XZ.offset(134.62)):
        with Locations((0, 0)):
            Hole(F_7_16_20_TAPPED_HOLE1_D / 2, depth=F_7_16_20_TAPPED_HOLE1_DEPTH)
            with Locations((0, 0, -(F_7_16_20_TAPPED_HOLE1_DEPTH + F_7_16_20_TAPPED_HOLE1_TIP / 2))):  # 118° drill point
                Cone(0, F_7_16_20_TAPPED_HOLE1_D / 2, F_7_16_20_TAPPED_HOLE1_TIP, mode=Mode.SUBTRACT)


solid = part.part
